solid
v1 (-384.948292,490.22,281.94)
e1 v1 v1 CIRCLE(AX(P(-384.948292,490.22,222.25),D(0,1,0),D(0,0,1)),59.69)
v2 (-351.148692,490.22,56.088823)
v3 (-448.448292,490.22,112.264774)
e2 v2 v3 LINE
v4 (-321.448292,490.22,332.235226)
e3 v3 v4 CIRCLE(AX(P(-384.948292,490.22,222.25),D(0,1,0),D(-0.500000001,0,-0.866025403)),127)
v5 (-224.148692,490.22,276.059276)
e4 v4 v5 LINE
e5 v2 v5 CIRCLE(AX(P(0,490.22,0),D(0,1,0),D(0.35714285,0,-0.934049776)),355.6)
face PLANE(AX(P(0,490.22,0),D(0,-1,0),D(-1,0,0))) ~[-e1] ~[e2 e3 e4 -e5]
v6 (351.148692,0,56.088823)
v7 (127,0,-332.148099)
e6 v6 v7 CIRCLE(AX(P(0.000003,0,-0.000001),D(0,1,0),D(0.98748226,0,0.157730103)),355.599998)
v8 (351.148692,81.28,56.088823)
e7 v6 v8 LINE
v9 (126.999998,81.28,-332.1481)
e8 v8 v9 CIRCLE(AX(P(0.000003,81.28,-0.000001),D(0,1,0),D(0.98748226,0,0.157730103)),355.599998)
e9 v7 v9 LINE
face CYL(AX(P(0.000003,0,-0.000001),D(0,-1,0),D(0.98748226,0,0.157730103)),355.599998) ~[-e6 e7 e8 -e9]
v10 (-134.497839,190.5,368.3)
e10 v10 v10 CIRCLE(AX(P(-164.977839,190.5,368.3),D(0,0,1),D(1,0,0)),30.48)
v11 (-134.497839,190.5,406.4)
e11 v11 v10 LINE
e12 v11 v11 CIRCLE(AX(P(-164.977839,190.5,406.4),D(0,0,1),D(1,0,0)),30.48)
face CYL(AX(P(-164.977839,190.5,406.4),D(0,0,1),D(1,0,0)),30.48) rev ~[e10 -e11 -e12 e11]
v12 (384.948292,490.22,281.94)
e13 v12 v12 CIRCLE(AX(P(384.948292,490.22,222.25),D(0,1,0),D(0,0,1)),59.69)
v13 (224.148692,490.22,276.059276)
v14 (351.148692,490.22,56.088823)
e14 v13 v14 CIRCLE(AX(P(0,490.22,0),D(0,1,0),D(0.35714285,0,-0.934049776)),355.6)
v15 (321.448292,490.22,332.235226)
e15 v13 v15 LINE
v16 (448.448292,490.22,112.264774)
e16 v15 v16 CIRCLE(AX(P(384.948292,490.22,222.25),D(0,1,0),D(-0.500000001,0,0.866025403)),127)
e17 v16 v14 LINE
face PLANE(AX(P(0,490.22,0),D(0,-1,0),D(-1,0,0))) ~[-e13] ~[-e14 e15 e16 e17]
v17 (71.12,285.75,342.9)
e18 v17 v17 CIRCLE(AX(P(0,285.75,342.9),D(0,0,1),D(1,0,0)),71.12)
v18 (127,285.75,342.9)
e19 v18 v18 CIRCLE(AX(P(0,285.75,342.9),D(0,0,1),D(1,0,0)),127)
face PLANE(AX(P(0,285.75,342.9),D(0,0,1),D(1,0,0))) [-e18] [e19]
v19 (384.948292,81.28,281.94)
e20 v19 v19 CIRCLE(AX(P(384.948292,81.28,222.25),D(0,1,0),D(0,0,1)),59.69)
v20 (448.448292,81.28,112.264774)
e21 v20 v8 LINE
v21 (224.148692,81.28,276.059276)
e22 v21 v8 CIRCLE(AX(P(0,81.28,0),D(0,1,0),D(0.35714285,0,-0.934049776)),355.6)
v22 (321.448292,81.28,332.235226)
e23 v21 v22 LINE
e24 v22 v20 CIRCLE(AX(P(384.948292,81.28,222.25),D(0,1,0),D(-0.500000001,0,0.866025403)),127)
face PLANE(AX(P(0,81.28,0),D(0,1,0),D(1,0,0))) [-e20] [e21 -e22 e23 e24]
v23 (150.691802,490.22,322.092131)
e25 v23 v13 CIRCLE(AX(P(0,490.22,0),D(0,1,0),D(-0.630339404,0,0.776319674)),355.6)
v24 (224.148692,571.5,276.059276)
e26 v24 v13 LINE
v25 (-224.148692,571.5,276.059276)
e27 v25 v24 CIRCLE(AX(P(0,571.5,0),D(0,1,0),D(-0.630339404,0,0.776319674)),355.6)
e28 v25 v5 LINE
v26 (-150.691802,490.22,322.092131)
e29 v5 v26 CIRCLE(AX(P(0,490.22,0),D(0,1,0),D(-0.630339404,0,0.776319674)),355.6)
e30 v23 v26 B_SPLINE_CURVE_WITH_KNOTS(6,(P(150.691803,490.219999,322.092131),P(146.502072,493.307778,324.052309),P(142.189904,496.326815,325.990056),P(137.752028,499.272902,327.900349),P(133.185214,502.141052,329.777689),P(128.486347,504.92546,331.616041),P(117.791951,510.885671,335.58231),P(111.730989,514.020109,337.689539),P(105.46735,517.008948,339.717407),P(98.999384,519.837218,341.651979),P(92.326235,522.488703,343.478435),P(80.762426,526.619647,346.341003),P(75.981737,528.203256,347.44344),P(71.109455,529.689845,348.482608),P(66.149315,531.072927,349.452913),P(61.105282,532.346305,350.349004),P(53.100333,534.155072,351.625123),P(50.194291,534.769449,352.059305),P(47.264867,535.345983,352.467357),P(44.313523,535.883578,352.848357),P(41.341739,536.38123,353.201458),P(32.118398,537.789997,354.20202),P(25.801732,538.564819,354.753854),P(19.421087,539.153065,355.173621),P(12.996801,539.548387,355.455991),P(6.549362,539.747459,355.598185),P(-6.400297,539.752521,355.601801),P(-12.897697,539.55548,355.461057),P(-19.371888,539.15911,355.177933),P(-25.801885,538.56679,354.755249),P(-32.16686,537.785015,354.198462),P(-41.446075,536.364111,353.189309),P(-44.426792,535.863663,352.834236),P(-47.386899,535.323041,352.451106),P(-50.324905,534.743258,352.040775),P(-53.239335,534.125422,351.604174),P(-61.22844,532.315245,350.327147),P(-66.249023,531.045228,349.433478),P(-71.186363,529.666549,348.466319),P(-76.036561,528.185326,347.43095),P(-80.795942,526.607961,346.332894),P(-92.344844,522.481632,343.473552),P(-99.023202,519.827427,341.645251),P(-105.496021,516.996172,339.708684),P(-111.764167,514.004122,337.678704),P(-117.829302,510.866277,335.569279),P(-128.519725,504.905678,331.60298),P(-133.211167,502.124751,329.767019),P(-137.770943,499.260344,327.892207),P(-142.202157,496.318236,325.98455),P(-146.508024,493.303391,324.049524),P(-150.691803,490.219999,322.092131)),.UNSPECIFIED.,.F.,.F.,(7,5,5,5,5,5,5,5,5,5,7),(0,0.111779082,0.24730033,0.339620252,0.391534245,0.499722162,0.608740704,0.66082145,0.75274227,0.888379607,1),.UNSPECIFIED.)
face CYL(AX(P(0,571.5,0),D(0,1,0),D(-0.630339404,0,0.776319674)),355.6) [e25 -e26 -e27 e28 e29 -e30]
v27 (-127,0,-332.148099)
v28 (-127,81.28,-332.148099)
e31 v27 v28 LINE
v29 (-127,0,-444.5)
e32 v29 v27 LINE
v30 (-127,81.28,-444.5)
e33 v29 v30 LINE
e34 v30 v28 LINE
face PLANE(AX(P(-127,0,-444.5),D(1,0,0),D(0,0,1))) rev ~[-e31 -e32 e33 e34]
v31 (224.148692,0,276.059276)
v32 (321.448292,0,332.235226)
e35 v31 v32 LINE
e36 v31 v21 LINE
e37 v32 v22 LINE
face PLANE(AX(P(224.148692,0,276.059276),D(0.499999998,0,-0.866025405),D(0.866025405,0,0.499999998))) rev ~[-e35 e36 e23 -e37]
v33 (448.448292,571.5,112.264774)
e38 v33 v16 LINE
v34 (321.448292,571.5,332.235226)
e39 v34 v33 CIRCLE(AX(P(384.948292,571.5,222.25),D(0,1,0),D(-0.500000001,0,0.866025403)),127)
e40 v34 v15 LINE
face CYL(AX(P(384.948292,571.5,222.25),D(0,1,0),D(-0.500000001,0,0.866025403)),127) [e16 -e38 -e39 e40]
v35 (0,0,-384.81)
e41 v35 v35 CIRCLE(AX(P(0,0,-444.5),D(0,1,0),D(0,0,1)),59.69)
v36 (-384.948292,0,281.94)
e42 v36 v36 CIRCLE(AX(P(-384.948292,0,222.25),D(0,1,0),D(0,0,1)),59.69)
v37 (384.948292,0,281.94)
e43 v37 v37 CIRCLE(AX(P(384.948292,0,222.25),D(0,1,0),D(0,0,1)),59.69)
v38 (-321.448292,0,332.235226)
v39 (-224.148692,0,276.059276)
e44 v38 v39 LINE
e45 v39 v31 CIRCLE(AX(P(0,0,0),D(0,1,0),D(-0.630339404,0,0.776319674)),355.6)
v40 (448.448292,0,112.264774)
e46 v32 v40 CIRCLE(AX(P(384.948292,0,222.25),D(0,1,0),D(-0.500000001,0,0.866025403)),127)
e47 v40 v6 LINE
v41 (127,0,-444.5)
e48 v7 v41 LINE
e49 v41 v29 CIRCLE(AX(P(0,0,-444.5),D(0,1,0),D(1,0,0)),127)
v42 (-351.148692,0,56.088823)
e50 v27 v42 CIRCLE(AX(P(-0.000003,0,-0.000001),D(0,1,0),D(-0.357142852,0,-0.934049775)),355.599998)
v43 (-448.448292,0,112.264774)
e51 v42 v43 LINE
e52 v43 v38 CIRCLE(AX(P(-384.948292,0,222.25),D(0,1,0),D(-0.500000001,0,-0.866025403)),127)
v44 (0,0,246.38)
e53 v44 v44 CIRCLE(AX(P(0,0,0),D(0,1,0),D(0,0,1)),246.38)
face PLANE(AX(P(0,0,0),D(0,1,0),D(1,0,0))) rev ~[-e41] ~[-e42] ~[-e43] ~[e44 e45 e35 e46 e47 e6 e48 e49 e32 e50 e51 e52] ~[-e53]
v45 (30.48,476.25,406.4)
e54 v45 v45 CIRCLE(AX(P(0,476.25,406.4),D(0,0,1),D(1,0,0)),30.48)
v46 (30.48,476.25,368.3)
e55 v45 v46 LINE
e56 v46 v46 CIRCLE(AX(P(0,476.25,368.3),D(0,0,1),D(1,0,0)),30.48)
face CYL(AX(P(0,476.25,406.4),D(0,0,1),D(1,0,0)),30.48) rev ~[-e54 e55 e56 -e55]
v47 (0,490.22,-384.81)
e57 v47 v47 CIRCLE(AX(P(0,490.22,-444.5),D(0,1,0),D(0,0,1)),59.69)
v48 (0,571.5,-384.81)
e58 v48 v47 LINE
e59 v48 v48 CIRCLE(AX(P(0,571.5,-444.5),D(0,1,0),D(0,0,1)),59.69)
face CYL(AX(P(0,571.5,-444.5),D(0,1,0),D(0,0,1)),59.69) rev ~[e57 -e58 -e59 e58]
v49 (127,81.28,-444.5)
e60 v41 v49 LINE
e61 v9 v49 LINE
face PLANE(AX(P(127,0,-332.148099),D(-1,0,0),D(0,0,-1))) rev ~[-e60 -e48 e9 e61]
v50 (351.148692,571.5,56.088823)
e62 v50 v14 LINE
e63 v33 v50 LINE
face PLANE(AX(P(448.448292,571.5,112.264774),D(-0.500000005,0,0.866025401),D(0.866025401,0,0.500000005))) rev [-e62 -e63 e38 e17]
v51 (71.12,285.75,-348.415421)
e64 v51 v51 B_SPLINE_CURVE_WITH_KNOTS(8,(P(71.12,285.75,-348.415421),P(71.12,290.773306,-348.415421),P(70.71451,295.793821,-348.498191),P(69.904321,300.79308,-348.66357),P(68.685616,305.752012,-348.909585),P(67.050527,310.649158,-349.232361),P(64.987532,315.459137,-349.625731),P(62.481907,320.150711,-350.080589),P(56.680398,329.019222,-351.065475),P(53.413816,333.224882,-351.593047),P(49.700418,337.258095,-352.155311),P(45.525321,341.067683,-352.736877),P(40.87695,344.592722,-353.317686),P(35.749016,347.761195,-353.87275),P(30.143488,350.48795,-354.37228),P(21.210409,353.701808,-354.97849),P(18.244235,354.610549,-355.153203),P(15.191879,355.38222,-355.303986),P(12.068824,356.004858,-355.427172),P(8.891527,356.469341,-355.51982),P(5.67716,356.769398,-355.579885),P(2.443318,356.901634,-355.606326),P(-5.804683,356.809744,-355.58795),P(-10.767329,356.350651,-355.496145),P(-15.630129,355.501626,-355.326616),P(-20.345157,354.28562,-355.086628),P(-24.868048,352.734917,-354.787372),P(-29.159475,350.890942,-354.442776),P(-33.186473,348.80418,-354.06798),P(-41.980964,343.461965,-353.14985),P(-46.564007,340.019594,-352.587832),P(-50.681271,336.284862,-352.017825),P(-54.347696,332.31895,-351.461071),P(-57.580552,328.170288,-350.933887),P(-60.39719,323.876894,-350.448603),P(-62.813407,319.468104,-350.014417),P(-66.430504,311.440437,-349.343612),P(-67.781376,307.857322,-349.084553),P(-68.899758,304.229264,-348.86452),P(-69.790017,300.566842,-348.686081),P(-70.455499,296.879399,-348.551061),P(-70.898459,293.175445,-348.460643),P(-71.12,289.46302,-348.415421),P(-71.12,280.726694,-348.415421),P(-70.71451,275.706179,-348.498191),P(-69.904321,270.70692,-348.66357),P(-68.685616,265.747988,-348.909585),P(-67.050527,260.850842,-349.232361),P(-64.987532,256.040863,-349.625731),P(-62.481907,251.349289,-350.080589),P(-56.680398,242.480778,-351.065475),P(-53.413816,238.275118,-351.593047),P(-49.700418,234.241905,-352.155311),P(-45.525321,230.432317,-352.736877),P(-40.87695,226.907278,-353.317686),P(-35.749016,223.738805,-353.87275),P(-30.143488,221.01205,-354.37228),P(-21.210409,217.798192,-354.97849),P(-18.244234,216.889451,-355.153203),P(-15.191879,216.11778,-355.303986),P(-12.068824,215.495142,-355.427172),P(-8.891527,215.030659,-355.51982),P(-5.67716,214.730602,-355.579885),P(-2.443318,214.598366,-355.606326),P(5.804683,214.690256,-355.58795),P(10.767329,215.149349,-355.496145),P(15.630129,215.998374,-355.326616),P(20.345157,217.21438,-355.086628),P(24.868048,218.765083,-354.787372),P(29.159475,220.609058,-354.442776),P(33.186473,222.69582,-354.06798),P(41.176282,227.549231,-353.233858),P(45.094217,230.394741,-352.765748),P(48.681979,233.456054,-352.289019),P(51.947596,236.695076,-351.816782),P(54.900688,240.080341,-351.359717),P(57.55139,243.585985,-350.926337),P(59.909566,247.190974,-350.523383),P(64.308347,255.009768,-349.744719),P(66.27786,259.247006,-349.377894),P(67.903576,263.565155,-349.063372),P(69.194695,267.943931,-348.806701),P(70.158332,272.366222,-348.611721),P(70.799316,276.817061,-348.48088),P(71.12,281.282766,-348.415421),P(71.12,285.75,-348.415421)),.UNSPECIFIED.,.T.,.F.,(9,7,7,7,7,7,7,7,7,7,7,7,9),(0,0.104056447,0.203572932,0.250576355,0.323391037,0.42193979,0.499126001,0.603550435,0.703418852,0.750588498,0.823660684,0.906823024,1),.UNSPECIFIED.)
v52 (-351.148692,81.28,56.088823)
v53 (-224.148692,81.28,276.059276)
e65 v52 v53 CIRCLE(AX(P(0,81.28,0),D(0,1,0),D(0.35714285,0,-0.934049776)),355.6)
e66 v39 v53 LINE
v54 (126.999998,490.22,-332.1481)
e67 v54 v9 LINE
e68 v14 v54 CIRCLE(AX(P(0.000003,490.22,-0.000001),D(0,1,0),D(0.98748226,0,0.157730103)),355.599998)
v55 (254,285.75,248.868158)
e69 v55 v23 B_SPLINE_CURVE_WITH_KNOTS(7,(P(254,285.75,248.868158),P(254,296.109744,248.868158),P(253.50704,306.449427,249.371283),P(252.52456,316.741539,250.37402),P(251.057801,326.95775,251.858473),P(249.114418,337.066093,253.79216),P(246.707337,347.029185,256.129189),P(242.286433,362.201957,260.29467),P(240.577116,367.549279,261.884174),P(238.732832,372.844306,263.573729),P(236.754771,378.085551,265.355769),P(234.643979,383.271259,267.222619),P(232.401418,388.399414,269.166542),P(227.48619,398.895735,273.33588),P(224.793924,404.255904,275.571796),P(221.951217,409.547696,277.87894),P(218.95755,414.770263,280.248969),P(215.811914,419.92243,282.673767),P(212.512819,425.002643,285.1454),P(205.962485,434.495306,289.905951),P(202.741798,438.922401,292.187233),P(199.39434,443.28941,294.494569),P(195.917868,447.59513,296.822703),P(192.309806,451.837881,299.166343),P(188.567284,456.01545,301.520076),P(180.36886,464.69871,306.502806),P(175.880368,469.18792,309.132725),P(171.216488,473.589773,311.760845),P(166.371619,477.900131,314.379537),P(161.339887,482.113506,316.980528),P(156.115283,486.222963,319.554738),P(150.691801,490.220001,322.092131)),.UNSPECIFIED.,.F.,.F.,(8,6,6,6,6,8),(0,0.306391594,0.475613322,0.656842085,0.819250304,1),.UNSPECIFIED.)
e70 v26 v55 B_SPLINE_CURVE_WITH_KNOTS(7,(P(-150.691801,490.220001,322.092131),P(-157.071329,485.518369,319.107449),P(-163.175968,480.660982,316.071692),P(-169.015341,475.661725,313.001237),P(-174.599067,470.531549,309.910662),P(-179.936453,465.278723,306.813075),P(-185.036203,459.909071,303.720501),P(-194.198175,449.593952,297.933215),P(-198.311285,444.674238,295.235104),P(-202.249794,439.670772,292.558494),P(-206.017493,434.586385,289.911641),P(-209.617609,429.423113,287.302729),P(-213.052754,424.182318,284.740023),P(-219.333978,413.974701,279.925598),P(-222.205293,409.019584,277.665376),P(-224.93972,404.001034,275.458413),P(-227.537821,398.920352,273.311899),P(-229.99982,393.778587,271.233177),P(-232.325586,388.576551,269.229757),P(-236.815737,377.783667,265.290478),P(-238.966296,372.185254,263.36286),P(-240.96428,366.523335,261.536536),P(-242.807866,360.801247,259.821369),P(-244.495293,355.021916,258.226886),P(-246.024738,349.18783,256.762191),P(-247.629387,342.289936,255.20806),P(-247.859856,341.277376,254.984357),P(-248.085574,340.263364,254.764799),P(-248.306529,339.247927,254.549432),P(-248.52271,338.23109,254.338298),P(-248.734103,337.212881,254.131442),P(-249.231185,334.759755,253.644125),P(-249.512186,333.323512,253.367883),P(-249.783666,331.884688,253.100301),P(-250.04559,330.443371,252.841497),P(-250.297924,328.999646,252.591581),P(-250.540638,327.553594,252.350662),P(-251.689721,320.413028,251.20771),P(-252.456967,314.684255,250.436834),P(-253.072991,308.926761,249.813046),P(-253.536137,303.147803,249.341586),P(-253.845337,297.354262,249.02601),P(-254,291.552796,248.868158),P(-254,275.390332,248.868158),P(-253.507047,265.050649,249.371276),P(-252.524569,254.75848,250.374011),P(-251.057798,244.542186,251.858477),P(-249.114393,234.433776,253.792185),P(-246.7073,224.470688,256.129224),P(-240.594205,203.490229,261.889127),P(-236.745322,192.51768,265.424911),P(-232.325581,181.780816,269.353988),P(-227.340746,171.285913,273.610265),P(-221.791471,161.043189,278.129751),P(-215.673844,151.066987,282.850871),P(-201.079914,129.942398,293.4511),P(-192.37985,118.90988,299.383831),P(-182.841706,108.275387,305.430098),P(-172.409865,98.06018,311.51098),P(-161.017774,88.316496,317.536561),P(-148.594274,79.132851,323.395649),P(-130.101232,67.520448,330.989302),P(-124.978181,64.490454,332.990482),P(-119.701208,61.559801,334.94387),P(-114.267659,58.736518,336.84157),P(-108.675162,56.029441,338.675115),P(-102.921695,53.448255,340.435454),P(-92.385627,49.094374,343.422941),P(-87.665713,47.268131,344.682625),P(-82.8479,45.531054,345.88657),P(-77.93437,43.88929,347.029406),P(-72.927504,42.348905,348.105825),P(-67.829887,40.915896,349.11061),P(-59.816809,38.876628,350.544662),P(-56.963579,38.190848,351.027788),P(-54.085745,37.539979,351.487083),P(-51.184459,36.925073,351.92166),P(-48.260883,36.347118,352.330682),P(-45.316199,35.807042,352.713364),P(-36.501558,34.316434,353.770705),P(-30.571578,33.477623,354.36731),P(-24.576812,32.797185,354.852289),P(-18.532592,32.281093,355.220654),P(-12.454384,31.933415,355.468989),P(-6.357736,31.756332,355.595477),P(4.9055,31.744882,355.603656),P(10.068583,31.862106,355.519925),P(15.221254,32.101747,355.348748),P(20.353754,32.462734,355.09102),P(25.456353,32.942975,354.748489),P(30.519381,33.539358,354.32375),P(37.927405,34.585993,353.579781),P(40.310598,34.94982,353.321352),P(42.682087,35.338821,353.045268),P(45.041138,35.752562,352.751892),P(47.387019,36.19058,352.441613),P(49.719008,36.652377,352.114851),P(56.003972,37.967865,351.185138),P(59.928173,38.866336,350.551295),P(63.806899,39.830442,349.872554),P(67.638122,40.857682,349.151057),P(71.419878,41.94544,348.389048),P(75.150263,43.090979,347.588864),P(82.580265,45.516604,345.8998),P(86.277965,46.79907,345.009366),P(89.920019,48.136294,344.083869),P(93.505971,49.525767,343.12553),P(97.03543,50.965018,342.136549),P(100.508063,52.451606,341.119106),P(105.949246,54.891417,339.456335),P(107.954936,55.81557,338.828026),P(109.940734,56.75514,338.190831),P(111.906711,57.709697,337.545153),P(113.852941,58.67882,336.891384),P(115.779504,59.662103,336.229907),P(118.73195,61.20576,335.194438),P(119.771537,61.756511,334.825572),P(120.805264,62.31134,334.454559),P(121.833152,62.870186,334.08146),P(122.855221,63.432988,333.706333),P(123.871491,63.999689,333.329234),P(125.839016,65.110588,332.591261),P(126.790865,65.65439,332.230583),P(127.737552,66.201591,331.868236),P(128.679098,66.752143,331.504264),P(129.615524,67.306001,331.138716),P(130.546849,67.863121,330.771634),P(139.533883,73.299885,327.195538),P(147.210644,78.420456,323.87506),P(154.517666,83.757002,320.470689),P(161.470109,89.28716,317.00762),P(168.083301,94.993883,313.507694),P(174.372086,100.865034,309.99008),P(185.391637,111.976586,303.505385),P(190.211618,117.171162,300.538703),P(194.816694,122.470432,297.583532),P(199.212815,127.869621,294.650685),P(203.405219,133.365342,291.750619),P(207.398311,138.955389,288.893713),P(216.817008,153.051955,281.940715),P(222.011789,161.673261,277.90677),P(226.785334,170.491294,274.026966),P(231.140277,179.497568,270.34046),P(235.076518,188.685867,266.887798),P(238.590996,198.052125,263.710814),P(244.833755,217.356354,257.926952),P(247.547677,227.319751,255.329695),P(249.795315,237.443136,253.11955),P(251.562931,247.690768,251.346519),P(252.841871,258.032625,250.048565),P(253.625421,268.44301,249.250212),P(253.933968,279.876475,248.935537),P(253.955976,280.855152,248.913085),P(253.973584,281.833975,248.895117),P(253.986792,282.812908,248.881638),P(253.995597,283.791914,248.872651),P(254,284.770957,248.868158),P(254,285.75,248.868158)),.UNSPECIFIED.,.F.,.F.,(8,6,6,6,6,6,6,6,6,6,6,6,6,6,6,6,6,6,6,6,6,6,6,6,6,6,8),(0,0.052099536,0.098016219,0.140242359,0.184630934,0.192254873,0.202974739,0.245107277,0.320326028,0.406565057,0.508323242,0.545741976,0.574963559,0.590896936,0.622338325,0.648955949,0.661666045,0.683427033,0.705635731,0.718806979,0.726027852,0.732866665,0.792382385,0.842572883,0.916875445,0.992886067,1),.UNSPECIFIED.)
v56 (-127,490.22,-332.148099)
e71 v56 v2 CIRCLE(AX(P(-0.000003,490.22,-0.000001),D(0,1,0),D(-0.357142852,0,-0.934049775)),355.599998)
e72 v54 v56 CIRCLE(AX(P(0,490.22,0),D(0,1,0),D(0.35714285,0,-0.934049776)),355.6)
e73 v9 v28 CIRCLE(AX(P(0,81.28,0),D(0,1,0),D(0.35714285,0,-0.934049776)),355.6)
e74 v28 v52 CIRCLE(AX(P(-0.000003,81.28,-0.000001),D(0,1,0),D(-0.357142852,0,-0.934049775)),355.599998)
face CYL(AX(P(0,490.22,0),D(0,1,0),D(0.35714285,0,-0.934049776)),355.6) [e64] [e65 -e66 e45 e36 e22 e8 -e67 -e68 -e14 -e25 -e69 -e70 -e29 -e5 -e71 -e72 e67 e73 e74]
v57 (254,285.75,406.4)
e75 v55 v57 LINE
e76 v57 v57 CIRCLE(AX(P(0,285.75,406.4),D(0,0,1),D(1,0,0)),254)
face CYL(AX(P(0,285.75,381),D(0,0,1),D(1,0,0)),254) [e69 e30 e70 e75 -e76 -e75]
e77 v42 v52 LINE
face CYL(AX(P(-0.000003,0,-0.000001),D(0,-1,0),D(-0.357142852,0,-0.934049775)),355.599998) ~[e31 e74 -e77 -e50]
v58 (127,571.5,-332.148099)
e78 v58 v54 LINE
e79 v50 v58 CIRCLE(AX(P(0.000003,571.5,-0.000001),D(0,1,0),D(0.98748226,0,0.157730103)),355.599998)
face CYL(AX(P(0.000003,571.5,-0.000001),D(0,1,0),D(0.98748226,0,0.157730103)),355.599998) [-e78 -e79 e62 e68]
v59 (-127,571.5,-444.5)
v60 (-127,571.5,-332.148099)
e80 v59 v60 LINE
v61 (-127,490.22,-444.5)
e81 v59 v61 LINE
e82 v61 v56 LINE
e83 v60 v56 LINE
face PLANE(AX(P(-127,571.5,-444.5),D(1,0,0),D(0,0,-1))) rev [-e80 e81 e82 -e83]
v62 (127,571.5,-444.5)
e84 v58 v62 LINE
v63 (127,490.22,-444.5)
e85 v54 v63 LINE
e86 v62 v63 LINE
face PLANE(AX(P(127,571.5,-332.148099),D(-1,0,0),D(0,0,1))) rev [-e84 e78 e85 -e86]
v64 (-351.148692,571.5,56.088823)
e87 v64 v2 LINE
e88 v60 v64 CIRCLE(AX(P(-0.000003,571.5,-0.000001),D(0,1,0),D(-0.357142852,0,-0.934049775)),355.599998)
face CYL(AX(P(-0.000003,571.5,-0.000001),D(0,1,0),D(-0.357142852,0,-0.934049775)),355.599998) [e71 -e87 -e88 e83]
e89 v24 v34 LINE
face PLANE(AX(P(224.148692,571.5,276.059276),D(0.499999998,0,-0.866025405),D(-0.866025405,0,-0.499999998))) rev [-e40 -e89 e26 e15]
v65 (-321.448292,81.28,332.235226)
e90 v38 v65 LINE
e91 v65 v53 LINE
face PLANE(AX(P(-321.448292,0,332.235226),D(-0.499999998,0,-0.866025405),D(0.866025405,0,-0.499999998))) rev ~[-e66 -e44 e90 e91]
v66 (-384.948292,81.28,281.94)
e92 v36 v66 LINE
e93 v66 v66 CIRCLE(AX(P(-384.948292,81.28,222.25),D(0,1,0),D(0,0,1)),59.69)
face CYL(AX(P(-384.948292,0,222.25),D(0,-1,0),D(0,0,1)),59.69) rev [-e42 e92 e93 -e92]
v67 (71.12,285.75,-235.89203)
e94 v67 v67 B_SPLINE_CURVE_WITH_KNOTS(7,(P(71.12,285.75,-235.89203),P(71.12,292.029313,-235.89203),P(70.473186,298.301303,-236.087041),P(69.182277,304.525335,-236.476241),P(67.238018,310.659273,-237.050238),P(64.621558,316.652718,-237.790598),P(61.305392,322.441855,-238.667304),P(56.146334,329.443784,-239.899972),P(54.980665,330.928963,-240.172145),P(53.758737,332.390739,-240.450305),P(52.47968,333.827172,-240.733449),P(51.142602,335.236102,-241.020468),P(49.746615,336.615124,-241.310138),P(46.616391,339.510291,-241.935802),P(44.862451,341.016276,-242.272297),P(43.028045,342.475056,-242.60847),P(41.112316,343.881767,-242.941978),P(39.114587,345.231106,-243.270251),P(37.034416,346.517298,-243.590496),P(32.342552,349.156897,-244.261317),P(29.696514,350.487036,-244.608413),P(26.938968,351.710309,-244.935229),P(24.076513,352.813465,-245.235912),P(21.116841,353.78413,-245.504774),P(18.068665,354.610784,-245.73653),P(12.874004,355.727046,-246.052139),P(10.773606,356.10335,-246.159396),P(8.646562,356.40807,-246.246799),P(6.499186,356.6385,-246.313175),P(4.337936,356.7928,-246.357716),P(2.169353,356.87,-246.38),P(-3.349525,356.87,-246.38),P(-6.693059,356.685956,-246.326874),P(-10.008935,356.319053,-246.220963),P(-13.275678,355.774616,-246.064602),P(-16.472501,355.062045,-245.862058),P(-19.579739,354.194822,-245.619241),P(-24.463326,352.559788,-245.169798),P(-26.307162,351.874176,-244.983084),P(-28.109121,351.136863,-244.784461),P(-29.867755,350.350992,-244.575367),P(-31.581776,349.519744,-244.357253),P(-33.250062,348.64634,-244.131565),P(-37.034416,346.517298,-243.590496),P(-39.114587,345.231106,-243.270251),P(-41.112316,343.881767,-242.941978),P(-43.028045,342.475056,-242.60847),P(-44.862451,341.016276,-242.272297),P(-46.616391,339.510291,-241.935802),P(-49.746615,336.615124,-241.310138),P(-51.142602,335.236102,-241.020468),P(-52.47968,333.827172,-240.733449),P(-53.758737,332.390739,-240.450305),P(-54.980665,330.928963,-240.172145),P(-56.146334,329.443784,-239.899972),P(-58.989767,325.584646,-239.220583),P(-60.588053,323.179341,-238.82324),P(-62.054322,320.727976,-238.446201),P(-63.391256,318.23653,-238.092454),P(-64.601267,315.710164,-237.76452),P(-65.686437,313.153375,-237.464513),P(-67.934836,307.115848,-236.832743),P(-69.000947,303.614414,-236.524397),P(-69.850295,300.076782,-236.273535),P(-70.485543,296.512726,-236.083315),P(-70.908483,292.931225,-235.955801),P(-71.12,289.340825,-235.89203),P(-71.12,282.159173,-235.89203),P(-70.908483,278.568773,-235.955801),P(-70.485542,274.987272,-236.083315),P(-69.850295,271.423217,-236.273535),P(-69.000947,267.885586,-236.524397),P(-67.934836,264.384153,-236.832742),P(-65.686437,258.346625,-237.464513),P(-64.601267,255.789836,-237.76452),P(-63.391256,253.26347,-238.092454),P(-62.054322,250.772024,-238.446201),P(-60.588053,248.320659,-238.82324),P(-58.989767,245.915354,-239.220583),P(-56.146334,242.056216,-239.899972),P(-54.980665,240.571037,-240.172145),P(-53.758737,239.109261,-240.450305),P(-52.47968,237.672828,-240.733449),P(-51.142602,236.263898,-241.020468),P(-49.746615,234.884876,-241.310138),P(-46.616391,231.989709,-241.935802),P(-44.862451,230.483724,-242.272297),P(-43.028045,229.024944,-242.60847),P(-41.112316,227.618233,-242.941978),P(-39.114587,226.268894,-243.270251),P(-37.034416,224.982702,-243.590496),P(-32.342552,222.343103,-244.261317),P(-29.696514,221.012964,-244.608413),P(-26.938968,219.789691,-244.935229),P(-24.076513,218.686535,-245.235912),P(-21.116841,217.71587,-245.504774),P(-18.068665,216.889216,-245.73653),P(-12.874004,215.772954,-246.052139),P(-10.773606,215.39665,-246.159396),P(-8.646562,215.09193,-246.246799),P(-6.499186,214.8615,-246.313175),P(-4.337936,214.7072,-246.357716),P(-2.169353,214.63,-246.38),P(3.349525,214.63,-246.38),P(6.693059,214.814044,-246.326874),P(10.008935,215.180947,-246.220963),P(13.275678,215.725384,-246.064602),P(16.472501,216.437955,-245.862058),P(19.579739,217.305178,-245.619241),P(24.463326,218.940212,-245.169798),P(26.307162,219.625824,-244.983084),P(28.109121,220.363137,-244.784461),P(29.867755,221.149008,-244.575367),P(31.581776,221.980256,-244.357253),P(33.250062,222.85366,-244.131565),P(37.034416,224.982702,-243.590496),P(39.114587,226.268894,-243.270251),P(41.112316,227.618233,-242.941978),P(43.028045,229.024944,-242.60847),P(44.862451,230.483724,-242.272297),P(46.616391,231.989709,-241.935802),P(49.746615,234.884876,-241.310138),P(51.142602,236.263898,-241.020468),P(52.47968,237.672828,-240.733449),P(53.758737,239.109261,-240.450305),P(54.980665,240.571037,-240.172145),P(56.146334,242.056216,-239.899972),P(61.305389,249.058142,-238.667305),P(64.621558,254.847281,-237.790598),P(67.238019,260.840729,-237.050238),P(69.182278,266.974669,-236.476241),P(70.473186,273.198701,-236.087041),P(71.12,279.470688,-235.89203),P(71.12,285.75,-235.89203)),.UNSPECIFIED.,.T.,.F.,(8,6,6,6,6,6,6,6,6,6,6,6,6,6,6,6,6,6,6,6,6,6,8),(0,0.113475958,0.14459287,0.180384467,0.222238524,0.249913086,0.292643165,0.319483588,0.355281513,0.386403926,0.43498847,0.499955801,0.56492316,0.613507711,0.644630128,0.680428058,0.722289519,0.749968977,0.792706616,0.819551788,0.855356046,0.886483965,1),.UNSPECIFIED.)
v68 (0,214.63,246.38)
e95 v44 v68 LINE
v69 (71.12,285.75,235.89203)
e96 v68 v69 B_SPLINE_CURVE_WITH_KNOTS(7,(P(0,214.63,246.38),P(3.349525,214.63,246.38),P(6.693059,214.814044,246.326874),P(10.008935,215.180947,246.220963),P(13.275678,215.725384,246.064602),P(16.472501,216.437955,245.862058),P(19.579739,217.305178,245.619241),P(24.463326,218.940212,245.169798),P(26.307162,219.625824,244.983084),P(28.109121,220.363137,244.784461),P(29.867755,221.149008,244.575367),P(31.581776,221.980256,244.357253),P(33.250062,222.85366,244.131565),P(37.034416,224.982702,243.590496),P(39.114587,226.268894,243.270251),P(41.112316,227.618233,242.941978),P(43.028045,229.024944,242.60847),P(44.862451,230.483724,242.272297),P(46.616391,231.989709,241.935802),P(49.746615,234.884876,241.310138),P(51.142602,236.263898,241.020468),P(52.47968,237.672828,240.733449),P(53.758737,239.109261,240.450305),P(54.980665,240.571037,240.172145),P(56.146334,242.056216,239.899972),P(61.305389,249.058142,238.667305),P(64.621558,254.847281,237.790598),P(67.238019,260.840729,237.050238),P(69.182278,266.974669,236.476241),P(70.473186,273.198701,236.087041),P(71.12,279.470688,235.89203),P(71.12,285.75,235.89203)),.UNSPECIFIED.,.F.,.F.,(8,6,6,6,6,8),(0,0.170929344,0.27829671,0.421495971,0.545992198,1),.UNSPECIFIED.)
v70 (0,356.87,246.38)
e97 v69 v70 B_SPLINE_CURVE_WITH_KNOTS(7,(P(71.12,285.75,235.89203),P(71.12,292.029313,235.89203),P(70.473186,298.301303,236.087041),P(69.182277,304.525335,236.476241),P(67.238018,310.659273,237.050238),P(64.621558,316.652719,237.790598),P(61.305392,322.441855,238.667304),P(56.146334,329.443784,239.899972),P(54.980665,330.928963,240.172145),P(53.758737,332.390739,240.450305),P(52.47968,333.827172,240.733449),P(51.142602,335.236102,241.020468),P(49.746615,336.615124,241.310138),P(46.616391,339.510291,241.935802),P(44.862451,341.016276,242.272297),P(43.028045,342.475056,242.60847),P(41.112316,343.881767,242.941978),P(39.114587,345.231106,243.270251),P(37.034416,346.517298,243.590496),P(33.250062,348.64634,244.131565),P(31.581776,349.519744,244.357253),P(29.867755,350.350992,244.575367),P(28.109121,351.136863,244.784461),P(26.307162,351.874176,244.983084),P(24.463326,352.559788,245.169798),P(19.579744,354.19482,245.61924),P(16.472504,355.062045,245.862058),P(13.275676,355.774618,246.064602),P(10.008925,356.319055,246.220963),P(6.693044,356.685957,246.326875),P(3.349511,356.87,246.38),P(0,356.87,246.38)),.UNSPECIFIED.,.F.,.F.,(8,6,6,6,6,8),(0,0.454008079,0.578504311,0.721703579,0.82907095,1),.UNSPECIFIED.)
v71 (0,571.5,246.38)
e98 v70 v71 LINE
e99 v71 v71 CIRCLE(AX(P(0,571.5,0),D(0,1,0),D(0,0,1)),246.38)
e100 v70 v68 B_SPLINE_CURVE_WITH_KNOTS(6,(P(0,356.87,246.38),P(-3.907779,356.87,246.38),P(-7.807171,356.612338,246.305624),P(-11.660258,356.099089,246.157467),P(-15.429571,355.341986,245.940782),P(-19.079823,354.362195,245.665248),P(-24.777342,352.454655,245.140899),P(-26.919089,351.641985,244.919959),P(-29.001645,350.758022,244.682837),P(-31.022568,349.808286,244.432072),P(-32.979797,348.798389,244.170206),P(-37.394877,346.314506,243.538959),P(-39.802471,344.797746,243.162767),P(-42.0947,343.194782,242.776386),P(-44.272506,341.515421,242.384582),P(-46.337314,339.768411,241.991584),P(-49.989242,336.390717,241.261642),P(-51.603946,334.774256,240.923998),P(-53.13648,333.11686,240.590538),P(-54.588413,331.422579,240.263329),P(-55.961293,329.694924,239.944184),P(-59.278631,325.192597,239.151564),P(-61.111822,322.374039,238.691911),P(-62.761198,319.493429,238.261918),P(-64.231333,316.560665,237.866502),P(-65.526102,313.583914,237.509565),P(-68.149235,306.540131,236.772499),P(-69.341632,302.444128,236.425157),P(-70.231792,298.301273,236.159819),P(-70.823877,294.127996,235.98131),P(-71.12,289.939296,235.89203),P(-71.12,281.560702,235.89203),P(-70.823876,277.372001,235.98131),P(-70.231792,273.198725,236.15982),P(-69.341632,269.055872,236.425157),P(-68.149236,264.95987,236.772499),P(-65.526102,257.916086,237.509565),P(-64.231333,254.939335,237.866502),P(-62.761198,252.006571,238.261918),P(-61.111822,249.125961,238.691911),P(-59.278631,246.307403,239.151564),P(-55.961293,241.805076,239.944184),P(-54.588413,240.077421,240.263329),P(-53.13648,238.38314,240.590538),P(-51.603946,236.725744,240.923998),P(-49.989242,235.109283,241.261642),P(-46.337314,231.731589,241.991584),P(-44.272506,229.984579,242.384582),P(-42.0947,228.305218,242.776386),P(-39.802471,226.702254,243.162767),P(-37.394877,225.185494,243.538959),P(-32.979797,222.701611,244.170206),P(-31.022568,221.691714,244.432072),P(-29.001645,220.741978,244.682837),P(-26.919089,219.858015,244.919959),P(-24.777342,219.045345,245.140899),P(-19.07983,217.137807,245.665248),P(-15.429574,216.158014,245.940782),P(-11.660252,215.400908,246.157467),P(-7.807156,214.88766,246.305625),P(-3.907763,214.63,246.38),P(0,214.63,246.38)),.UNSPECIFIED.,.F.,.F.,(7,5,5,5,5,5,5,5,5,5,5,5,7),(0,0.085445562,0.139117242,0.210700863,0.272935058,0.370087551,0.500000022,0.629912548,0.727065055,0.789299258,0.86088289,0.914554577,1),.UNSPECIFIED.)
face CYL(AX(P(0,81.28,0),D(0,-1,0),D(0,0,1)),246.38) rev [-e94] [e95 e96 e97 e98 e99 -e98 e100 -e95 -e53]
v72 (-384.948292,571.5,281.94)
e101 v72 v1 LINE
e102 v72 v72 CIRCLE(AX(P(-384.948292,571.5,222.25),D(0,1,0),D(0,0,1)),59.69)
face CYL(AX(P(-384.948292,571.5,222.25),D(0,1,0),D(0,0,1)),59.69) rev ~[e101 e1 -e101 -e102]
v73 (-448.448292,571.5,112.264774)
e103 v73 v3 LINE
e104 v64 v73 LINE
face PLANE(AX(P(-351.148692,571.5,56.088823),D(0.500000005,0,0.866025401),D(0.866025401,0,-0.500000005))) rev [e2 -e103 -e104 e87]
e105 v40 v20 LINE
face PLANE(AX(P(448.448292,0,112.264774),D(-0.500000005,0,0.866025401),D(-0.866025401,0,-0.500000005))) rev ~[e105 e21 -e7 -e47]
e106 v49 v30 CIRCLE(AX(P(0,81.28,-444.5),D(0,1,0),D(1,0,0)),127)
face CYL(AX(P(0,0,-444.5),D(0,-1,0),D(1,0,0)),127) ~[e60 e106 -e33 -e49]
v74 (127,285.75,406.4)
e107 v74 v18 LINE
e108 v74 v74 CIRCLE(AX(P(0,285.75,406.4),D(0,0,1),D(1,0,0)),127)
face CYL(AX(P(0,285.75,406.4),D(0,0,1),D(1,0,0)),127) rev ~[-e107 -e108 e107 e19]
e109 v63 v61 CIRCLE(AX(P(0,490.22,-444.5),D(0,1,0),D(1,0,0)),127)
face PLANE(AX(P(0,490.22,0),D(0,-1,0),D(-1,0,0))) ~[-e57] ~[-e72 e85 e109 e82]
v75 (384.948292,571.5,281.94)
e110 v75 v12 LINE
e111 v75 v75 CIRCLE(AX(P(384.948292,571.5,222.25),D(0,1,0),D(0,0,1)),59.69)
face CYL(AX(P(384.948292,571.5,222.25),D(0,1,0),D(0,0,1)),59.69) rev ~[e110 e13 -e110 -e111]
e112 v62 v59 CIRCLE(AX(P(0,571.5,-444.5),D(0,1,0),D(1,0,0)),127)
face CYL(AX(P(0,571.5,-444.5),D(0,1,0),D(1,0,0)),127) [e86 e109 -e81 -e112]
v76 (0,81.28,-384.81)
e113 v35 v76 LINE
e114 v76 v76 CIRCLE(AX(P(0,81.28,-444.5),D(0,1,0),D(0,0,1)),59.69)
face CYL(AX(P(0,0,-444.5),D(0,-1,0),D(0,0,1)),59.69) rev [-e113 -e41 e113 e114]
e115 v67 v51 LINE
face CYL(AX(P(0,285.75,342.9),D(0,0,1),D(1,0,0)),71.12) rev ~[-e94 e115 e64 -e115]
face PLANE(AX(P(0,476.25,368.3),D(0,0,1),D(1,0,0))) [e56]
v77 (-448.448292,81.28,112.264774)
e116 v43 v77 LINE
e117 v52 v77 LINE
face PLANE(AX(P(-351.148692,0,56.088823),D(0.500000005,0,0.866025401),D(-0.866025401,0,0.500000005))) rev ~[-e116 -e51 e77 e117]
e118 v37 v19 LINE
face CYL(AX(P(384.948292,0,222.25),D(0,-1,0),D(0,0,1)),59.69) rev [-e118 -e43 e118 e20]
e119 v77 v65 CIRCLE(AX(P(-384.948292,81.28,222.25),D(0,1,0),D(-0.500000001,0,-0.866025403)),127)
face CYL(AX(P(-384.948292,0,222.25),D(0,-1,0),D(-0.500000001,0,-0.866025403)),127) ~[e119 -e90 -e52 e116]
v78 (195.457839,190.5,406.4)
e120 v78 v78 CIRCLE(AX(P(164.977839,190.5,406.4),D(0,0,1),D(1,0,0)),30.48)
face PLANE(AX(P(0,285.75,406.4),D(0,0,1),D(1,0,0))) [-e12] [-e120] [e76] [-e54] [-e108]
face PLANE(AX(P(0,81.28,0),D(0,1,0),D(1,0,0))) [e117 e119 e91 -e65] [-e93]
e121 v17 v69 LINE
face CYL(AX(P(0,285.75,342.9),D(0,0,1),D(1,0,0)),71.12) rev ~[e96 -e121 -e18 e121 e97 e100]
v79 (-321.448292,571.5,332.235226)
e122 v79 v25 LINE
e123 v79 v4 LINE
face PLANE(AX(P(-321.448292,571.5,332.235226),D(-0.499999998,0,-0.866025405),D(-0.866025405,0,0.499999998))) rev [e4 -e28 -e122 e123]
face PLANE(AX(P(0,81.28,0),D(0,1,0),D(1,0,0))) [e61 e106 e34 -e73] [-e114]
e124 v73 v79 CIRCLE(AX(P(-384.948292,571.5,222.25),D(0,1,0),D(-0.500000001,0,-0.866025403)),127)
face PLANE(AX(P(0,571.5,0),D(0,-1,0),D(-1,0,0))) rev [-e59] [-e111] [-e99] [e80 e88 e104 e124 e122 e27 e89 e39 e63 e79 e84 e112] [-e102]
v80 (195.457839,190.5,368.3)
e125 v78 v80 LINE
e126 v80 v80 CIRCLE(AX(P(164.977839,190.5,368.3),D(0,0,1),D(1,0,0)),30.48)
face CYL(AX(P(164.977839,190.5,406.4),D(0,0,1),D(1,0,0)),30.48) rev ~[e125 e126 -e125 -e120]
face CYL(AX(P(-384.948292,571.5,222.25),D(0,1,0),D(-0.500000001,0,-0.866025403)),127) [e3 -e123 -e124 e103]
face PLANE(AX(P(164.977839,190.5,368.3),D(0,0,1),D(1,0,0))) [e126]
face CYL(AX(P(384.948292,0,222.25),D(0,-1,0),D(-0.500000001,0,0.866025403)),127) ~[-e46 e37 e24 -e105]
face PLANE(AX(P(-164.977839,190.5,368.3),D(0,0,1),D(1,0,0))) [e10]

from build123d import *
from build123d.topology import SkipClean

# Parameters (mm, degrees)
SKETCH1_R                       = 246.38
SKETCH1_R_2                     = 59.69
BOSS_EXTRUDE1_DEPTH             = 81.28
SKETCH2_R                       = 355.6
SKETCH2_R_2                     = 246.38
BOSS_EXTRUDE2_DEPTH             = 204.47
BOSS_EXTRUDE3_START             = 381
SKETCH3_R                       = 254
BOSS_EXTRUDE3_DEPTH             = 25.4
BOSS_EXTRUDE3_DIRECTION_2_REACH = 1339.721
SKETCH4_R                       = 30.48
CUT_EXTRUDE1_DEPTH              = 38.1
SKETCH4_4_R                     = 127
CUT_EXTRUDE2_DEPTH              = 63.5
SKETCH5_R                       = 71.12
CUT_EXTRUDE3_DEPTH              = 762


with BuildPart() as part:
    # Sketch1 → Boss-Extrude1 (new body)
    with BuildSketch(Plane(origin=(0, 0, 0), x_dir=(1, 0, 0), z_dir=(0, 1, 0))):
        with BuildLine():
            Line((-127, 444.5), (-127, 332.148099))
            ThreePointArc((-127, 332.148099), (-307.958634, 177.8), (-351.148692, -56.088823))
            Line((-351.148692, -56.088823), (-448.448292, -112.264774))
            ThreePointArc((-448.448292, -112.264774), (-494.933518, -285.75), (-321.448292, -332.235226))
            Line((-321.448292, -332.235226), (-224.148692, -276.059276))
            ThreePointArc((-224.148692, -276.059276), (0, -355.6), (224.148692, -276.059276))
            Line((224.148692, -276.059276), (321.448292, -332.235226))
            ThreePointArc((321.448292, -332.235226), (494.933518, -285.75), (448.448292, -112.264774))
            Line((448.448292, -112.264774), (351.148692, -56.088823))
            ThreePointArc((351.148692, -56.088823), (307.958634, 177.8), (127, 332.148099))
            Line((127, 332.148099), (127, 444.5))
            ThreePointArc((127, 444.5), (0, 571.5), (-127, 444.5))
        make_face()
        with Locations(Location((0, 0, 0), (0, 0, 270))):
            Circle(SKETCH1_R, mode=Mode.SUBTRACT)
        with Locations(Location((0, 444.5, 0), (0, 0, 270))):
            Circle(SKETCH1_R_2, mode=Mode.SUBTRACT)
        with Locations(Location((384.948292, -222.25, 0), (0, 0, 270))):
            Circle(SKETCH1_R_2, mode=Mode.SUBTRACT)
        with Locations(Location((-384.948292, -222.25, 0), (0, 0, 270))):
            Circle(SKETCH1_R_2, mode=Mode.SUBTRACT)
    extrude(amount=BOSS_EXTRUDE1_DEPTH)

    # Sketch2 → Boss-Extrude2 (add)
    with BuildSketch(Plane(origin=(0, 81.28, 0), x_dir=(1, 0, 0), z_dir=(0, 1, 0))):
        with Locations(Location((0, 0, 0), (0, 0, 69.075168))):
            Circle(SKETCH2_R)
        with Locations(Location((0, 0, 0), (0, 0, 270))):
            Circle(SKETCH2_R_2, mode=Mode.SUBTRACT)
    extrude(amount=BOSS_EXTRUDE2_DEPTH)

    # Mirror2: part across plane


with BuildPart() as part_1:
    add(part.part)
    add(part.part.mirror(Plane.ZX.offset(285.75)))

    # Sketch3 → Boss-Extrude3 (add)
    with BuildSketch(Plane.XY.offset(BOSS_EXTRUDE3_START)):
        with Locations((0, 285.75)):
            Circle(SKETCH3_R)
    extrude(amount=BOSS_EXTRUDE3_DEPTH)

    # Sketch3 → Boss-Extrude3 direction 2 (add, up to next)
    with BuildSketch(Plane.XY.offset(BOSS_EXTRUDE3_START), mode=Mode.PRIVATE) as boss_extrude3_direction_2_sk1:
        with Locations((0, 285.75)):
            Circle(SKETCH3_R)
    boss_extrude3_direction_2_tool1 = extrude(boss_extrude3_direction_2_sk1.sketch, amount=-BOSS_EXTRUDE3_DIRECTION_2_REACH, mode=Mode.PRIVATE) - part_1.part
    add(boss_extrude3_direction_2_tool1.solids().sort_by_distance((0, 285.75, 381))[0])

    # Sketch4 → Cut-Extrude1 (cut)
    with SkipClean():  # the faces are left unmerged after this step: merging them gives an invalid solid
        with BuildSketch(Plane.XY.offset(406.4)):
            with Locations((0, 476.25)):
                Circle(SKETCH4_R)
            with Locations((164.977839, 190.5)):
                Circle(SKETCH4_R)
            with Locations((-164.977839, 190.5)):
                Circle(SKETCH4_R)
        extrude(amount=-CUT_EXTRUDE1_DEPTH, mode=Mode.SUBTRACT)

    # Sketch4_4 → Cut-Extrude2 (cut)
    with SkipClean():  # the faces are left unmerged after this step: merging them gives an invalid solid
        with BuildSketch(Plane.XY.offset(406.4)):
            with Locations((0, 285.75)):
                Circle(SKETCH4_4_R)
        extrude(amount=-CUT_EXTRUDE2_DEPTH, mode=Mode.SUBTRACT)

    # Sketch5 → Cut-Extrude3 (cut)
    with SkipClean():  # the faces are left unmerged after this step: merging them gives an invalid solid
        with BuildSketch(Plane.XY.offset(342.9)):
            with Locations((0, 285.75)):
                Circle(SKETCH5_R)
        extrude(amount=-CUT_EXTRUDE3_DEPTH, mode=Mode.SUBTRACT)


solid = part_1.part
